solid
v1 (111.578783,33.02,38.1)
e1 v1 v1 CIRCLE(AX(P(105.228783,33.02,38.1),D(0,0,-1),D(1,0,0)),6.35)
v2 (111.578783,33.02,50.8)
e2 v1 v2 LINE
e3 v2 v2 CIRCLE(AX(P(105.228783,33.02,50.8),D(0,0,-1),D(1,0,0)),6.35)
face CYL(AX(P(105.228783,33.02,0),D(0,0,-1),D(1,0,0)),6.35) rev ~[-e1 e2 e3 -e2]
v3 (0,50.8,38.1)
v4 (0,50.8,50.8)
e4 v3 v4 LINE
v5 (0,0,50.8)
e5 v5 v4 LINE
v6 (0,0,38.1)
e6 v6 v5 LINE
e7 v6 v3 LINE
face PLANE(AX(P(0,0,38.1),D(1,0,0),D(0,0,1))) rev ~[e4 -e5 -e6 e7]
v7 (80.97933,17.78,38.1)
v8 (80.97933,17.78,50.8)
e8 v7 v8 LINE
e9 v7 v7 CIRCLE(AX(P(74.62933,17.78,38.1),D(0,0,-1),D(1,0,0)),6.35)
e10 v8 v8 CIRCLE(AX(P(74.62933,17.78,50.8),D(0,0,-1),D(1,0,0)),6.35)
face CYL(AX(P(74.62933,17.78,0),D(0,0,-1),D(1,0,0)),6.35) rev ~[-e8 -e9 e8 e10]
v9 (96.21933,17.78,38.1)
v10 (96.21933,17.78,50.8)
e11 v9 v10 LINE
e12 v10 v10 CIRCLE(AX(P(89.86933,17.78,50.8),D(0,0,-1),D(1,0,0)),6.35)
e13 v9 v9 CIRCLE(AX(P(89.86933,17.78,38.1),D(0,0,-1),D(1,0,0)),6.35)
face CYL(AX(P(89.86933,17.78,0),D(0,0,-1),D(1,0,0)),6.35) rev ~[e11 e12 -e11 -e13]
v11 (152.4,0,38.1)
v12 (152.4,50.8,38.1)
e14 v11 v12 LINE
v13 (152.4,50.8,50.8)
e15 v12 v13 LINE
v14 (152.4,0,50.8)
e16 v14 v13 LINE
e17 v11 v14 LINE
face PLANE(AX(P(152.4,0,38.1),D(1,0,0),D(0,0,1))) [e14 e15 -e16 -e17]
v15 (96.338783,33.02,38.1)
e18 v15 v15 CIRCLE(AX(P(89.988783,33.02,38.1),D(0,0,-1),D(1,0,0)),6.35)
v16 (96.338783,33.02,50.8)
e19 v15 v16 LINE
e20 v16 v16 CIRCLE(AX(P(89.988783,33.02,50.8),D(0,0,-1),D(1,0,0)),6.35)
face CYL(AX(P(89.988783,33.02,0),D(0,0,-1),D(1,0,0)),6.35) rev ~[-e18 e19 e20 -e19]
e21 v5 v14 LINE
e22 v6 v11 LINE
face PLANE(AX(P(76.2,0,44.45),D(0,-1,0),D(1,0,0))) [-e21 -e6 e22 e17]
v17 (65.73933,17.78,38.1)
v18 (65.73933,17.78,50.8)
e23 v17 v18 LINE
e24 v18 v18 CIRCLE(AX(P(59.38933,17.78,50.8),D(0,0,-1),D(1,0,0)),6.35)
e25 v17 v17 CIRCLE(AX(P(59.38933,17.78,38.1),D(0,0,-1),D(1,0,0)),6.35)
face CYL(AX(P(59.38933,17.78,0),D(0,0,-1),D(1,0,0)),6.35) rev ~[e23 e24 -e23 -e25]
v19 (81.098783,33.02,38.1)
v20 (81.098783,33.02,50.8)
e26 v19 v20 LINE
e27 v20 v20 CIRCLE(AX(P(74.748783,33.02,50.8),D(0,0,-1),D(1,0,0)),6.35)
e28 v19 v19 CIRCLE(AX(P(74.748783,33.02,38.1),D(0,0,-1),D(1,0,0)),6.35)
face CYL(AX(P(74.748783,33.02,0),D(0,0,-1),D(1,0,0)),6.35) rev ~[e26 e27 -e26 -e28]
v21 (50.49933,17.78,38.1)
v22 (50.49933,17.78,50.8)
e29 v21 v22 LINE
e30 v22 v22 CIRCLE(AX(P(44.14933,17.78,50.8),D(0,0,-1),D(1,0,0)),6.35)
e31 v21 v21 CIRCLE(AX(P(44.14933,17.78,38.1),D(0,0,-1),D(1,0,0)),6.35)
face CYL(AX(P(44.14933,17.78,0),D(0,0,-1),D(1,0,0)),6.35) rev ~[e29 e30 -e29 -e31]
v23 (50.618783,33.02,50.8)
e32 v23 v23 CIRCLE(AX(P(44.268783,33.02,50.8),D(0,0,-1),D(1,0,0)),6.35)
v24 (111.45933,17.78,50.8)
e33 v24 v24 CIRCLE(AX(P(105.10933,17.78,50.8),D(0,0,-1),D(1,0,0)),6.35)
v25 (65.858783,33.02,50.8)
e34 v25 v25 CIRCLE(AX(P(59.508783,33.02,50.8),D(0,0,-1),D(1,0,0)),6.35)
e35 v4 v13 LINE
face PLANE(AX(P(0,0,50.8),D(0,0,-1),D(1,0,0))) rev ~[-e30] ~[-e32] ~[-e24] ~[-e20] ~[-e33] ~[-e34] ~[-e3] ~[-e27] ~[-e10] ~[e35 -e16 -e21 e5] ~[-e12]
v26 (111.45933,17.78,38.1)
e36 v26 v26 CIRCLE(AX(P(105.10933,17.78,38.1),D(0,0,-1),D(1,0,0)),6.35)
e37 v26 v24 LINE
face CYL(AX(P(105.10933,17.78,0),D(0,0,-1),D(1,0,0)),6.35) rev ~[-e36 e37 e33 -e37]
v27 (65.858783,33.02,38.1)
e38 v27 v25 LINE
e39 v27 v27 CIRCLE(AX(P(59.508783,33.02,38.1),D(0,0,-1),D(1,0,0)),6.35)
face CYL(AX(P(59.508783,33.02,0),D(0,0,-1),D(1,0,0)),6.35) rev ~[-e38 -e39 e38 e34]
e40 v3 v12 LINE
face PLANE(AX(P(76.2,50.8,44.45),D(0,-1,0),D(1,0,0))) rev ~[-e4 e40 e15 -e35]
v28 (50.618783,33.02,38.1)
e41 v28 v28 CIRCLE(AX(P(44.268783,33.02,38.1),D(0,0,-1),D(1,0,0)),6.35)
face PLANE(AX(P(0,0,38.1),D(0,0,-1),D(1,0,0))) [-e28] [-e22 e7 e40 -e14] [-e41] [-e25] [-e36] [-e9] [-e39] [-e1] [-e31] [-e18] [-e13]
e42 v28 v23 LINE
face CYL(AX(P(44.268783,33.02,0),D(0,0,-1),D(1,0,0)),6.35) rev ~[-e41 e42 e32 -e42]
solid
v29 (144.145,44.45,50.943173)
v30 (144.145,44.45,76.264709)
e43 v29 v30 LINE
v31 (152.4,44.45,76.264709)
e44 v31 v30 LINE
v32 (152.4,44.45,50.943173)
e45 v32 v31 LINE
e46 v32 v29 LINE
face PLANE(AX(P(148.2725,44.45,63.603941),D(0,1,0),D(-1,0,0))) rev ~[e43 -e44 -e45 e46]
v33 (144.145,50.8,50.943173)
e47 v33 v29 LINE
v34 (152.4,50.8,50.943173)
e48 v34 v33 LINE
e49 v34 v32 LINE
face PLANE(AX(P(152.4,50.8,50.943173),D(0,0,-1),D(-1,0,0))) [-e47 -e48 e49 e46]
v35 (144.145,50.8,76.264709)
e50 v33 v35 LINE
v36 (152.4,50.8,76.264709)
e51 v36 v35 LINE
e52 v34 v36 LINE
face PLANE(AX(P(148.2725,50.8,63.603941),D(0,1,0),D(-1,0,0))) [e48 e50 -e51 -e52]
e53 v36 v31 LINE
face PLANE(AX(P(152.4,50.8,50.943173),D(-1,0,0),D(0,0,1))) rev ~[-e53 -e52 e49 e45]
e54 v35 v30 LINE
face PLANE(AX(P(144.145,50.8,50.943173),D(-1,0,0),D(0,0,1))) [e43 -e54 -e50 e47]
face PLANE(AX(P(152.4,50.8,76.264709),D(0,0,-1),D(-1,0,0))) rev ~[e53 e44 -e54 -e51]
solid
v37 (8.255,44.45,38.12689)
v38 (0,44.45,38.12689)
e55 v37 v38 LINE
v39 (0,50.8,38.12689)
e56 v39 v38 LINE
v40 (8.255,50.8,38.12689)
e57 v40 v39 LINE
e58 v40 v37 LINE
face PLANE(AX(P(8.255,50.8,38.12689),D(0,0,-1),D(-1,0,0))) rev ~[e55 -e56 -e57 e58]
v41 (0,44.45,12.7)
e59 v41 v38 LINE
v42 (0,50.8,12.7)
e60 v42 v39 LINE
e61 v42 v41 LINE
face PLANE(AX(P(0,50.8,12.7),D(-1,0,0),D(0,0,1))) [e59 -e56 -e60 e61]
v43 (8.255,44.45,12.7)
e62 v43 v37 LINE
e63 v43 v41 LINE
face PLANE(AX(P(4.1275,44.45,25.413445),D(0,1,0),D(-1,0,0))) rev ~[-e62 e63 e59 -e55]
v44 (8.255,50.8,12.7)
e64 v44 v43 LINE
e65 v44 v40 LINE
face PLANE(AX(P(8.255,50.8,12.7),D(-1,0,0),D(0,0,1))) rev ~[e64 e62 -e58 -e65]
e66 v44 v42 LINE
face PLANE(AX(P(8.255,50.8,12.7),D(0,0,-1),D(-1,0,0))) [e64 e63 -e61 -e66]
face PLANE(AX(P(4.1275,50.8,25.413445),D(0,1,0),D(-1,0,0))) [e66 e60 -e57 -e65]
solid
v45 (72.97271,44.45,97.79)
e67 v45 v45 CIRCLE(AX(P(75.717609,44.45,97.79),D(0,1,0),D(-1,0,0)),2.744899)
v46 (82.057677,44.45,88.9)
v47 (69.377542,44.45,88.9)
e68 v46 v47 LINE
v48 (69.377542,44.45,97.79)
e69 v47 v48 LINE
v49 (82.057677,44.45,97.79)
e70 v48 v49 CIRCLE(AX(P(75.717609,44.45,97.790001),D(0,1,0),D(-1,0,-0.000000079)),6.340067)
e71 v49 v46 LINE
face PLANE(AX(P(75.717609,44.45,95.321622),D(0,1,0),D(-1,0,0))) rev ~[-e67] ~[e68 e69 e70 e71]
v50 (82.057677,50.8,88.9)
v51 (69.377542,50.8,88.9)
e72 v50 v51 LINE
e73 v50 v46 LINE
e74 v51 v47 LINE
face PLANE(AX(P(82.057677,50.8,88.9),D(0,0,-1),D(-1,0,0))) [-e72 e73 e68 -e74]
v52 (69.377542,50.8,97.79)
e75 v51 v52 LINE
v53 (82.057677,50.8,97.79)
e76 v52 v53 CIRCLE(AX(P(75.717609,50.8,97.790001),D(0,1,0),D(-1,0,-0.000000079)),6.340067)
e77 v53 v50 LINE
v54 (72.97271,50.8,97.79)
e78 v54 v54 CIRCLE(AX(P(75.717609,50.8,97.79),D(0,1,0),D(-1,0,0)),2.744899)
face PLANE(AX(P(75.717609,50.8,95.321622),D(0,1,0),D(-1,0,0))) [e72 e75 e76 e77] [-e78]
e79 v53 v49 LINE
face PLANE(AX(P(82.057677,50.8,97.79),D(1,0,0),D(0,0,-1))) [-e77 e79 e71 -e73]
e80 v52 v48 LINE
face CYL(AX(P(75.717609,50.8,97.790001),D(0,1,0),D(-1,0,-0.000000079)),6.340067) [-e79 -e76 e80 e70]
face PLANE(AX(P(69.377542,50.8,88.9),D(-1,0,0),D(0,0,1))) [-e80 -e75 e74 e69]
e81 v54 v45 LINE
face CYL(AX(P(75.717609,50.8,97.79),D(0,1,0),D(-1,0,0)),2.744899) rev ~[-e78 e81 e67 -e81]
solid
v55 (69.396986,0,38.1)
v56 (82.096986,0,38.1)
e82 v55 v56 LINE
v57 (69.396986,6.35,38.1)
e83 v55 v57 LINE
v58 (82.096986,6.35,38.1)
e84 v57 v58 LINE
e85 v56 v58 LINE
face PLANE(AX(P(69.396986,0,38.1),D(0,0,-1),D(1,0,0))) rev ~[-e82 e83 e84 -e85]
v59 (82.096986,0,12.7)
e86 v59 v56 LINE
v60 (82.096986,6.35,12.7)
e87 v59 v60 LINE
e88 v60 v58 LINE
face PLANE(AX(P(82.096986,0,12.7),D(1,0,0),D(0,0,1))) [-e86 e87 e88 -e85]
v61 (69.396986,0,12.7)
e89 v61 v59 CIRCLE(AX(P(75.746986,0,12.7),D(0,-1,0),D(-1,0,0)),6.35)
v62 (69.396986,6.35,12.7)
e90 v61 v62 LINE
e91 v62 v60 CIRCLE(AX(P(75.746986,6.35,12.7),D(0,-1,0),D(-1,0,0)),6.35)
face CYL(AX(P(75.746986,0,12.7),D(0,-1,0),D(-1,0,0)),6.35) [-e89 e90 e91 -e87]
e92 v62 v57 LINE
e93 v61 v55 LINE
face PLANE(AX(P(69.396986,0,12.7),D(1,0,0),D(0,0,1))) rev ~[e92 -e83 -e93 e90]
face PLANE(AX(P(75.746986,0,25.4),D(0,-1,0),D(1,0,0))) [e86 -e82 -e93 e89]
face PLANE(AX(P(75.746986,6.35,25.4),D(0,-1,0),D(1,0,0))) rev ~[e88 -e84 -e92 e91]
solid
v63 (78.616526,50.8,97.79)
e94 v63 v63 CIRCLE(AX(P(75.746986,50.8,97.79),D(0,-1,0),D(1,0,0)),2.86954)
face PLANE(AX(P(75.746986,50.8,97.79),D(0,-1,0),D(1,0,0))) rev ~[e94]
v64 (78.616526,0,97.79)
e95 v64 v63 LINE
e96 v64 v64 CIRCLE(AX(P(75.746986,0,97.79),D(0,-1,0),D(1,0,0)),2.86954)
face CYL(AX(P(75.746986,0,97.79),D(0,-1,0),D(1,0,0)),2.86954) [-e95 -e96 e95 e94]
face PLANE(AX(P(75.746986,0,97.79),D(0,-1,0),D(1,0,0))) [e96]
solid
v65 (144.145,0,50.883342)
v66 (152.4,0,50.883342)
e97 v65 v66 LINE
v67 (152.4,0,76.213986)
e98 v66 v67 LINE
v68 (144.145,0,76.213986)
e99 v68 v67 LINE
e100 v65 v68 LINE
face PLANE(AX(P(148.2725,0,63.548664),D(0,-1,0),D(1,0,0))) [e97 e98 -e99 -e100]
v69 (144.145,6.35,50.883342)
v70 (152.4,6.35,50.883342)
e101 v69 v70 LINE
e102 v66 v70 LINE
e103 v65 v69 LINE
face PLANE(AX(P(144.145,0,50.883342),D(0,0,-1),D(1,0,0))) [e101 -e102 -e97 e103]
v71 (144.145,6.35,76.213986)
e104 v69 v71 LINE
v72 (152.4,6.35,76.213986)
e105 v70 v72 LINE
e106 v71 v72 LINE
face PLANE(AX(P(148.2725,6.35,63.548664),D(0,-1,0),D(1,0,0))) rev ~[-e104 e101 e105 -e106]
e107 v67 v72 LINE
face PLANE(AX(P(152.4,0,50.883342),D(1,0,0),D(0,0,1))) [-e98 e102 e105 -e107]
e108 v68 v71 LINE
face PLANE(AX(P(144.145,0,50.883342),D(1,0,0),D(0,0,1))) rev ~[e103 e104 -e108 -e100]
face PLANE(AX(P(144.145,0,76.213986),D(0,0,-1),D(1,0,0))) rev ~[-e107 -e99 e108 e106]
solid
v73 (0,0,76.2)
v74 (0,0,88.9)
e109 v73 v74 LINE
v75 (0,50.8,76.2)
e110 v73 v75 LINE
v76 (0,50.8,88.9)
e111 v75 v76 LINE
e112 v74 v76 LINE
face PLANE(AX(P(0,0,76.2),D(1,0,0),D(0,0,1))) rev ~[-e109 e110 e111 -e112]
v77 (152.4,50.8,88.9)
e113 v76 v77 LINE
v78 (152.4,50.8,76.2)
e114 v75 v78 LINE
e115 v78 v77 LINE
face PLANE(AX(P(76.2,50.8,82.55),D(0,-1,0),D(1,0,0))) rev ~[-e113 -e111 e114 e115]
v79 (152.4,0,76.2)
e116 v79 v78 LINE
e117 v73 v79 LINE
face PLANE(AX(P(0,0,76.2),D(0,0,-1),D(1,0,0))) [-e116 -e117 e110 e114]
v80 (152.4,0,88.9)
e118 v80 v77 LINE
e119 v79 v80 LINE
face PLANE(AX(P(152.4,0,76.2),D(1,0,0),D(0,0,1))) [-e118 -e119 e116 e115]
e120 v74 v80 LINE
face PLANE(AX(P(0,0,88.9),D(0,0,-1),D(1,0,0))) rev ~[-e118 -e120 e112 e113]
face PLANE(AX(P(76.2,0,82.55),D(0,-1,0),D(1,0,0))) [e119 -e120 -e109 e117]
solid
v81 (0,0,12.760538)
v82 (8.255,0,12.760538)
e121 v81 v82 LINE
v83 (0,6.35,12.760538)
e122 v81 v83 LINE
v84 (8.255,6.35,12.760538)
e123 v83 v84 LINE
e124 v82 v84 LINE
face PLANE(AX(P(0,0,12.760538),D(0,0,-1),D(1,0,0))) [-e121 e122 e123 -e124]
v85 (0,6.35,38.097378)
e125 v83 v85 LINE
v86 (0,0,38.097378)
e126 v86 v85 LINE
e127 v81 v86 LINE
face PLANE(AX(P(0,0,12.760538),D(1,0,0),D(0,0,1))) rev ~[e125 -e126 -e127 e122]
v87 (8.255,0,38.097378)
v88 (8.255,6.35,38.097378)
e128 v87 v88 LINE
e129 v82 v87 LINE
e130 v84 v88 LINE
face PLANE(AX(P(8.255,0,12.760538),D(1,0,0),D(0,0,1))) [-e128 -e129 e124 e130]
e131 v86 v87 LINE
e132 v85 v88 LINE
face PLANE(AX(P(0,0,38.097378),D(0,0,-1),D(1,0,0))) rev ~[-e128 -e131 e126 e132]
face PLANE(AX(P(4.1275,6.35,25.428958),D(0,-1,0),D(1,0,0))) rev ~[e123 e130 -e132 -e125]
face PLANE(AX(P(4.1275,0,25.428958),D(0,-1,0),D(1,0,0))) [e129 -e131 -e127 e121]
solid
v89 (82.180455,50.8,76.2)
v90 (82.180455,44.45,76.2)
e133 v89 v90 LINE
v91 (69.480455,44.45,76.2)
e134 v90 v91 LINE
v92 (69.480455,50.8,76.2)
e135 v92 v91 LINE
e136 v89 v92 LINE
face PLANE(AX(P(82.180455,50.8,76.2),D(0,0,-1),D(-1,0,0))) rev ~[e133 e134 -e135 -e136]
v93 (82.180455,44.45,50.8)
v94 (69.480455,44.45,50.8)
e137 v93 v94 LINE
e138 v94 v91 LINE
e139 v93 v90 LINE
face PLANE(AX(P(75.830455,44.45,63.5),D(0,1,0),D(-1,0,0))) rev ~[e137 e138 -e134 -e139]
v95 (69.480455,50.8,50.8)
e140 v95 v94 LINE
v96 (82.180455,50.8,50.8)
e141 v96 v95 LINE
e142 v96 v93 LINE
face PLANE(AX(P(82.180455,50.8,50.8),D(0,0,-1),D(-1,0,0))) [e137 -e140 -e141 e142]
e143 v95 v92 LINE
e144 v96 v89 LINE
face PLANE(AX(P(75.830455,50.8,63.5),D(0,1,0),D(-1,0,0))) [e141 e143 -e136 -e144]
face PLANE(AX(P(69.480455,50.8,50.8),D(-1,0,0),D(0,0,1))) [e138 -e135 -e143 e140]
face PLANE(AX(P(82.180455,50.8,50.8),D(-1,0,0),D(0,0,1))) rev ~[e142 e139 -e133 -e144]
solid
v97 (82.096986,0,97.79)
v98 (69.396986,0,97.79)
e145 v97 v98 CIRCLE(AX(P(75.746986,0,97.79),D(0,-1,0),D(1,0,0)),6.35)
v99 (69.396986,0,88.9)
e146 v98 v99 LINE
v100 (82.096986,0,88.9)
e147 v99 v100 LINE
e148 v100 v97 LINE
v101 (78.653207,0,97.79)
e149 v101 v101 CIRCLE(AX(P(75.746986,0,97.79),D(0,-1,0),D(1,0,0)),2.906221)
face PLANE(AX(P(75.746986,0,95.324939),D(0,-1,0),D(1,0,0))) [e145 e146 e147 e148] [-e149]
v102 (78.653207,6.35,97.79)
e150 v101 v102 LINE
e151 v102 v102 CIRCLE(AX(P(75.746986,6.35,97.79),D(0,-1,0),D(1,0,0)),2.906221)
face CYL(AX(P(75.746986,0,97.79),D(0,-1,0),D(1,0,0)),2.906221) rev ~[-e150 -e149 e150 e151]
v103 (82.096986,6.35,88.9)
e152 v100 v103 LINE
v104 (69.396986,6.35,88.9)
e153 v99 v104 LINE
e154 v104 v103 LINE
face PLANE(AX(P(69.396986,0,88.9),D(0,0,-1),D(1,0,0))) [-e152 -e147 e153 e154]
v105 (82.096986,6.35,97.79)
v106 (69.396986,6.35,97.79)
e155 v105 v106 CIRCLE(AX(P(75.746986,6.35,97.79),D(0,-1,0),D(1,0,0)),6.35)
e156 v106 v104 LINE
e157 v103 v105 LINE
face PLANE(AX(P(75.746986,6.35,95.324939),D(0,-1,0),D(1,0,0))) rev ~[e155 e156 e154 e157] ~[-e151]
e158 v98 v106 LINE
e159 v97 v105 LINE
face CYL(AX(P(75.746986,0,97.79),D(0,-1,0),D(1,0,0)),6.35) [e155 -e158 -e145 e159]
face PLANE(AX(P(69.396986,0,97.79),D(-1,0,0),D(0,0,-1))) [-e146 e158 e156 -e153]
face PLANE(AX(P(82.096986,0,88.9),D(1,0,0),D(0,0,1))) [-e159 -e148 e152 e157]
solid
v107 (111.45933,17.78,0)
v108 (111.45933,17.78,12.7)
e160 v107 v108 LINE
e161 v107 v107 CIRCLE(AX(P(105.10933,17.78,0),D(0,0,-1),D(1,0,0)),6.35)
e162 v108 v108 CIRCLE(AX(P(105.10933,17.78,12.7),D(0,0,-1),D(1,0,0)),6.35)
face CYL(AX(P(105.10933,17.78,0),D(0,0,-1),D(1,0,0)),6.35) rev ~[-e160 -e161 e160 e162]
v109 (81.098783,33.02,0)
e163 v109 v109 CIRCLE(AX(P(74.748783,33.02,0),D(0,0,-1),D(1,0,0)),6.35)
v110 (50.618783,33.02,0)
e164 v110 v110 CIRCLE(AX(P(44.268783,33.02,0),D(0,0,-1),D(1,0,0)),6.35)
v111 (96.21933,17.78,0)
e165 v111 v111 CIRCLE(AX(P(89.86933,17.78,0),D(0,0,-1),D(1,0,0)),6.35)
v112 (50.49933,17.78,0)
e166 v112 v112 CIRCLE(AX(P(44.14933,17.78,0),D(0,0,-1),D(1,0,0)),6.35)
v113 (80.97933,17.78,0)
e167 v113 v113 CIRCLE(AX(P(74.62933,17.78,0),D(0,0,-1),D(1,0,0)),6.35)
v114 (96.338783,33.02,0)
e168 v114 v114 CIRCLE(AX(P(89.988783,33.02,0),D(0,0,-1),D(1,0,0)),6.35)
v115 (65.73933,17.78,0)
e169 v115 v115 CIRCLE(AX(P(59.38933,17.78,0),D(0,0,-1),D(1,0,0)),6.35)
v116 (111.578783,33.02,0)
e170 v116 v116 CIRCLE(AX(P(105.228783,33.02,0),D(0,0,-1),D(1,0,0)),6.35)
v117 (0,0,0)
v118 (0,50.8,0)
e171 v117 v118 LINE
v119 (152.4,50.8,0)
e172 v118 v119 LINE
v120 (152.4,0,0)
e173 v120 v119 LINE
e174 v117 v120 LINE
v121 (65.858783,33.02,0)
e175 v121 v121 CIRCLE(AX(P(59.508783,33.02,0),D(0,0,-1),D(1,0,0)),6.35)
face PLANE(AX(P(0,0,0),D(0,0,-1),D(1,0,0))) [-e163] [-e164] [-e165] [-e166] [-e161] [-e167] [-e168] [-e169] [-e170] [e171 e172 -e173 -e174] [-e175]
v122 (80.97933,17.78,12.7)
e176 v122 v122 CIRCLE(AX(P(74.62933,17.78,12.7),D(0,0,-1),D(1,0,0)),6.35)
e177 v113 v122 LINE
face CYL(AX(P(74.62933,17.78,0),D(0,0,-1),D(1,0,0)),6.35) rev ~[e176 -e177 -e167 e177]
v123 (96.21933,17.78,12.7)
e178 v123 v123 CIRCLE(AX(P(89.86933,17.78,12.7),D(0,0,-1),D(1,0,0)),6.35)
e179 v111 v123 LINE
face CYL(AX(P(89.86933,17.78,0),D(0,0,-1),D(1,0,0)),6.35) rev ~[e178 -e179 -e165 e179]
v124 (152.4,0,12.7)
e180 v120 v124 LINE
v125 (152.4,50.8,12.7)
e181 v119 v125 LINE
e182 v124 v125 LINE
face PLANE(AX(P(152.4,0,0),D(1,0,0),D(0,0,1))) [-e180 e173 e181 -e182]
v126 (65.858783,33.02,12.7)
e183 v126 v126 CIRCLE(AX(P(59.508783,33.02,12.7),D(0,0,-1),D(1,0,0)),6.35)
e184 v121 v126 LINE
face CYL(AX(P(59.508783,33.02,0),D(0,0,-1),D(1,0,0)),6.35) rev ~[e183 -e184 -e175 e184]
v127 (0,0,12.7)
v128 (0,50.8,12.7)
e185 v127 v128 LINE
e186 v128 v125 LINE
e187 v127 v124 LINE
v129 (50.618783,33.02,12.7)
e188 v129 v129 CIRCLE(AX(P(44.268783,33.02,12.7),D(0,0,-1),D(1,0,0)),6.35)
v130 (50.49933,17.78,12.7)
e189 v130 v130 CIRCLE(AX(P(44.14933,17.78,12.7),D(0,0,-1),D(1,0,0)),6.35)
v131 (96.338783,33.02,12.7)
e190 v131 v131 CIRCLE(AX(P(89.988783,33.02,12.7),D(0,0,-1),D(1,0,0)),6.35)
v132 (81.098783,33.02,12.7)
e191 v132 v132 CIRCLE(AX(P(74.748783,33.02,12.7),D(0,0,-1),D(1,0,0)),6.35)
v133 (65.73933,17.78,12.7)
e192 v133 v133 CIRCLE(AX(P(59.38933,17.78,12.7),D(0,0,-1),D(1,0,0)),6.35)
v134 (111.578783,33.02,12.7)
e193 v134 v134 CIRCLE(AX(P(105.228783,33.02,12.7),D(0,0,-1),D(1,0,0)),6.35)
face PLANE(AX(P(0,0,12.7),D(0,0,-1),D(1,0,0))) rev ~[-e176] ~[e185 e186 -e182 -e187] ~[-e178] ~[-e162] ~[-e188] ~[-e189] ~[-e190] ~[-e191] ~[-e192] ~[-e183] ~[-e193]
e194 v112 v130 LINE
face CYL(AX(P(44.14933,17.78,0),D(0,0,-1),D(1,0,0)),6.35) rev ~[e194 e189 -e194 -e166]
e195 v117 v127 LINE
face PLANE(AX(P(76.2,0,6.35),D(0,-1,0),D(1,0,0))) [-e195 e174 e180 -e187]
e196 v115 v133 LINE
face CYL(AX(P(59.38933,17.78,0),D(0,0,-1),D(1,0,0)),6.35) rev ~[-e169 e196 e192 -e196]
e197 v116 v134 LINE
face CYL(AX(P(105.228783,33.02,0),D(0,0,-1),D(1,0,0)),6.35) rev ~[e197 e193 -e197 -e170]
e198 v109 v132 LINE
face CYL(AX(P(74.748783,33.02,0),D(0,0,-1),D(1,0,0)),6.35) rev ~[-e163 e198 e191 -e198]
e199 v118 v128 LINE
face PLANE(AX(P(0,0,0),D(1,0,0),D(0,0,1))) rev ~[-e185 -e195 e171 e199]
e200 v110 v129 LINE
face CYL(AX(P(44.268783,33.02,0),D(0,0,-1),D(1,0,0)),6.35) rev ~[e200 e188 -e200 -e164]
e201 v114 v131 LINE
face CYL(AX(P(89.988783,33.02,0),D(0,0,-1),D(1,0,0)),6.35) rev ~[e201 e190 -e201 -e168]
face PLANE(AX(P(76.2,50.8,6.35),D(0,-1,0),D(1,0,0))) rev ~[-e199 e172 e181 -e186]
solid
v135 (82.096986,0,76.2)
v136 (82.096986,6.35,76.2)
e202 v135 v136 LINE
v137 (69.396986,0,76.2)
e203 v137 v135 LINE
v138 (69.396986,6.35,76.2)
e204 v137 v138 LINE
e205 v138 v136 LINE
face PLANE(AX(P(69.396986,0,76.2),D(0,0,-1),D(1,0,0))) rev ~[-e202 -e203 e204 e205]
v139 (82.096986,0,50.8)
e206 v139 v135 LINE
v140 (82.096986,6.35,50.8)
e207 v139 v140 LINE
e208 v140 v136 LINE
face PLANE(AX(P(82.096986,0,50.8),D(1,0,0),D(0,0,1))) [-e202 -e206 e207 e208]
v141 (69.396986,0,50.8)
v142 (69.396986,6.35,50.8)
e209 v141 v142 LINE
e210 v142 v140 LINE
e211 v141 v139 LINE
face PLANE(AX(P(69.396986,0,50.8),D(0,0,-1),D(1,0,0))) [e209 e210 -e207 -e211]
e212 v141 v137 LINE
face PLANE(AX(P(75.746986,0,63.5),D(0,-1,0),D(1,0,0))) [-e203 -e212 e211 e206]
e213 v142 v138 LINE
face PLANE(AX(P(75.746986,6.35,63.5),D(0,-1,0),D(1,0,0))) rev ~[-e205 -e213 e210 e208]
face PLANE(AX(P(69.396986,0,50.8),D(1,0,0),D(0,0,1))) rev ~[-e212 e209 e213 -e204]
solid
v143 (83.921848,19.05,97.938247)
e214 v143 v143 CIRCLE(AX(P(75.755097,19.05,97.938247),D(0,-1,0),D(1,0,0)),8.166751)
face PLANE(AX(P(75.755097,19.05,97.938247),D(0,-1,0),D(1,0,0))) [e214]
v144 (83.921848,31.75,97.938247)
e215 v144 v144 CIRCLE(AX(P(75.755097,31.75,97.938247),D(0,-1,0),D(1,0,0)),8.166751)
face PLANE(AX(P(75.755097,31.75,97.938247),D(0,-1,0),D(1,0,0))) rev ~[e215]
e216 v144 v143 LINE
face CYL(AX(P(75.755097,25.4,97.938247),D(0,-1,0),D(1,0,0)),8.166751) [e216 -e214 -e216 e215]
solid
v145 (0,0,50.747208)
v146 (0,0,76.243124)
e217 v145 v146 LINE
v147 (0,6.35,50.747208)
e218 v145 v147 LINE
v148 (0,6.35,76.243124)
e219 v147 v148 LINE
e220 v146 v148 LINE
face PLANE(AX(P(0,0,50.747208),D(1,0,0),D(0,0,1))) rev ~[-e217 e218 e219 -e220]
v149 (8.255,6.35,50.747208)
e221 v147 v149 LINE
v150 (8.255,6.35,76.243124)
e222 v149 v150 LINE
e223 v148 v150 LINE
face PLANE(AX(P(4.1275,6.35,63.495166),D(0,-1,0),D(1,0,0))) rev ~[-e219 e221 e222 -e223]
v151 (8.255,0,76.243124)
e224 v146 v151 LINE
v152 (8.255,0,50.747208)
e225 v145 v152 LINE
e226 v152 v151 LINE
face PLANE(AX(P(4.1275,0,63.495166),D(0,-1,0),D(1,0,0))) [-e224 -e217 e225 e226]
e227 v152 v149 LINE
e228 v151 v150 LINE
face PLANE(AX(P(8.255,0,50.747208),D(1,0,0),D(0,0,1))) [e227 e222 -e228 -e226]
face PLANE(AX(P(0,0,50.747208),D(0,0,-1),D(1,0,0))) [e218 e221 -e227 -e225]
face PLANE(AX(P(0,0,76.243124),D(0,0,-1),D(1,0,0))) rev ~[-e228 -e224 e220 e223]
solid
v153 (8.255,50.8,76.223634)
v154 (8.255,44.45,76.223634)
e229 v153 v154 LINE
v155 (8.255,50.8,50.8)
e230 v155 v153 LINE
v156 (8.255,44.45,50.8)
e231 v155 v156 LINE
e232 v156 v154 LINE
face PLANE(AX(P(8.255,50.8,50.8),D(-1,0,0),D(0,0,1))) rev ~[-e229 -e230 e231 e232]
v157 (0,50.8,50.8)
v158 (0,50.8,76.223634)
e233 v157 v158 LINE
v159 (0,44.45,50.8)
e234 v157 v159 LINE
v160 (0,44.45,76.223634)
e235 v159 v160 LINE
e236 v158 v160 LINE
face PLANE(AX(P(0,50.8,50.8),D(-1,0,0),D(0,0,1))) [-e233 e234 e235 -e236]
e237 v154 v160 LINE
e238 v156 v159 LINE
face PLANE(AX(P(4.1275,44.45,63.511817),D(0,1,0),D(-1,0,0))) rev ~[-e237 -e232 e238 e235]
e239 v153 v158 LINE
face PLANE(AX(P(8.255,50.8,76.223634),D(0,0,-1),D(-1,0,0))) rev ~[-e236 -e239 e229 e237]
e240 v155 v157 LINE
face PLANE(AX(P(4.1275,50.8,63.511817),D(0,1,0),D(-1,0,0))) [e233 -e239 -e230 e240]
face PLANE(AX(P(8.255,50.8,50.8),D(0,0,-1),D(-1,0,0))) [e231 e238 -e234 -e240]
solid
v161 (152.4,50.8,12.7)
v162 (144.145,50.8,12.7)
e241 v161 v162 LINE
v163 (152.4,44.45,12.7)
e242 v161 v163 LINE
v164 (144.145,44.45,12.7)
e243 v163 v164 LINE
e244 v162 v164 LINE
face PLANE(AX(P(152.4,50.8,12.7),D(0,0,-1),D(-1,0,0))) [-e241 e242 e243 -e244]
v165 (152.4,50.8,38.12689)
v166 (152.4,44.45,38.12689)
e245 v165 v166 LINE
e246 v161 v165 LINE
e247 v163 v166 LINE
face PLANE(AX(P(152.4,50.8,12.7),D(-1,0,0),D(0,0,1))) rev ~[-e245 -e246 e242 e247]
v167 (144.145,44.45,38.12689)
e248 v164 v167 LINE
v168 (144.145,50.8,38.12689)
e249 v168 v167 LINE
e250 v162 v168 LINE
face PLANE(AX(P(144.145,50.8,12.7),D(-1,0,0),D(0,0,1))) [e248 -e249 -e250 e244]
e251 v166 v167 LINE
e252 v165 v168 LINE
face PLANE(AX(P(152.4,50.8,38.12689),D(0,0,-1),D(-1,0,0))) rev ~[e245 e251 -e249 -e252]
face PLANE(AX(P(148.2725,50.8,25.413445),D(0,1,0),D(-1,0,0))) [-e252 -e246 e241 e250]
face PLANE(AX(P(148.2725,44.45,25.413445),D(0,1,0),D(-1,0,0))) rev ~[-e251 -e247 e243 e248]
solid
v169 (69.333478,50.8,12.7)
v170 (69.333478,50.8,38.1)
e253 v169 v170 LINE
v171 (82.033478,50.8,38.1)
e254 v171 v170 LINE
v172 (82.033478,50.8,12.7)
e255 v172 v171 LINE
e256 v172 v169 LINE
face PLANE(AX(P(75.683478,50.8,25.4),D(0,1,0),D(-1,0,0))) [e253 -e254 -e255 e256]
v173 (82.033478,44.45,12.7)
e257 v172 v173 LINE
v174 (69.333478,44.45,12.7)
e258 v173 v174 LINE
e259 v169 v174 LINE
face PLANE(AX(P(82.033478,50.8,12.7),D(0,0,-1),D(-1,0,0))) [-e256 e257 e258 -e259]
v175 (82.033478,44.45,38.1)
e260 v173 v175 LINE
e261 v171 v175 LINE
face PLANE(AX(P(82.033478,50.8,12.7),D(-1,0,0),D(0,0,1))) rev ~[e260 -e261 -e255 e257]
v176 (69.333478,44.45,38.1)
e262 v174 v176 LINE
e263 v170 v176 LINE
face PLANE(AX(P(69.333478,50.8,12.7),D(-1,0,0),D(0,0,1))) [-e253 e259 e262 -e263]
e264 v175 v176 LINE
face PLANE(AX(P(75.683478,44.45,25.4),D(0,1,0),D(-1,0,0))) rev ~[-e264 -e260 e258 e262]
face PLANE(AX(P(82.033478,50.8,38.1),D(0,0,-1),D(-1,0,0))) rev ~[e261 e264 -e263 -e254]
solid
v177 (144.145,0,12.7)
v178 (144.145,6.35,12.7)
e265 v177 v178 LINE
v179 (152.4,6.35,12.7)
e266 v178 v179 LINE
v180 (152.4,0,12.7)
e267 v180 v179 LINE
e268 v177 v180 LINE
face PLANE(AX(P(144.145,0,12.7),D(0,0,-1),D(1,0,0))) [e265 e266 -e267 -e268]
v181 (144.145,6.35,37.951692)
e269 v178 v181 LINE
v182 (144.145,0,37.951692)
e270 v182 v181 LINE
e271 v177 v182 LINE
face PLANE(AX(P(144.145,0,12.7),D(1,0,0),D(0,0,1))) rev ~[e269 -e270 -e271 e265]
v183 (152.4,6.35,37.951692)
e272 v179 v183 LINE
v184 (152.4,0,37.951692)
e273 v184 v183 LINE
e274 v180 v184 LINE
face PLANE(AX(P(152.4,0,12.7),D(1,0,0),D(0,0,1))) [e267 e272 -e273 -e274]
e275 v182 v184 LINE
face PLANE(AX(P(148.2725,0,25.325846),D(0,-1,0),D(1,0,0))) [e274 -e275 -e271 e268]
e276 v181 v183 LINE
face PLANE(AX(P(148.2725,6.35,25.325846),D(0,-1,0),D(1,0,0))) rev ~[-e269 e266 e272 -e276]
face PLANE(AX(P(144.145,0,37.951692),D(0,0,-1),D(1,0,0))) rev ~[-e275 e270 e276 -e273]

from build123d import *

# Parameters (mm, degrees)
F0_W           = 152.4
F0_H           = 12.7
F1_DEPTH       = 50.8
F3_W           = 8.255
F3_H           = 25.330644
F3_H_2         = 25.251692
F2_W           = 8.255
F2_H           = 25.33684
F2_H_2         = 25.495917
F4_DEPTH       = 6.35
F5_W           = 8.255
F5_H           = 25.321536
F5_H_2         = 25.42689
F6_W           = 8.255
F6_H           = 25.423634
F7_DEPTH       = 6.35
F9_R           = 2.906221
F9_W           = 12.7
F9_H           = 25.4
F10_DEPTH      = 6.35
F11_W          = 12.7
F11_H          = 25.4
F12_W          = 12.7
F12_H          = 25.4
F13_R          = 2.744899
F14_DEPTH      = 6.35
F15_R          = 2.86954
F16_DEPTH      = 50.8
F18_R          = 8.166751
F19_DEPTH      = 6.35
F19_DEPTH_BACK = 6.35
F20_R          = 6.35
F21_DEPTH      = 52.832


with BuildPart() as f1:
    # F0 (on Front) → F1 (new body)
    with BuildSketch(Plane.XZ):
        with Locations((76.2, 82.55)):
            Rectangle(F0_W, F0_H)
        with Locations((76.2, 44.45)):
            Rectangle(F0_W, F0_H)
        with Locations((76.2, 6.35)):
            Rectangle(F0_W, F0_H)
    extrude(amount=-F1_DEPTH)

    # F20 (on face) → F21 (cut)
    with BuildSketch(Plane(origin=(0, 0, 0), x_dir=(1, 0, 0), z_dir=(0, 0, -1))):
        with Locations((59.38933, -17.78)):
            Circle(F20_R)
        with Locations((74.62933, -17.78)):
            Circle(F20_R)
        with Locations((89.86933, -17.78)):
            Circle(F20_R)
        with Locations((44.14933, -17.78)):
            Circle(F20_R)
        with Locations((44.268783, -33.02)):
            Circle(F20_R)
        with Locations((105.10933, -17.78)):
            Circle(F20_R)
        with Locations((74.748783, -33.02)):
            Circle(F20_R)
        with Locations((89.988783, -33.02)):
            Circle(F20_R)
        with Locations((105.228783, -33.02)):
            Circle(F20_R)
        with Locations((59.508783, -33.02)):
            Circle(F20_R)
    extrude(amount=-F21_DEPTH, mode=Mode.SUBTRACT)


with BuildPart() as f4:
    # F3 (on face) + F2 (on Front) → F4 (new body)
    with BuildSketch(Plane.XZ):
        with Locations((148.2725, 63.548664)):
            Rectangle(F3_W, F3_H)
        with Locations((148.2725, 25.325846)):
            Rectangle(F3_W, F3_H_2)
    with BuildSketch(Plane.XZ):
        with Locations((4.1275, 25.428958)):
            Rectangle(F2_W, F2_H)
        with Locations((4.1275, 63.495166)):
            Rectangle(F2_W, F2_H_2)
    extrude(amount=-F4_DEPTH)


with BuildPart() as f7:
    # F5 (on face) + F6 (on face) → F7 (new body)
    with BuildSketch(Plane(origin=(0, 50.8, 0), x_dir=(-1, 0, 0), z_dir=(0, 1, 0))):
        with Locations((-148.2725, 63.603941)):
            Rectangle(F5_W, F5_H)
        with Locations((-148.2725, 25.413445)):
            Rectangle(F5_W, F5_H_2)
        with Locations((-4.1275, 25.413445)):
            Rectangle(F5_W, F5_H_2)
    with BuildSketch(Plane(origin=(0, 50.8, 0), x_dir=(-1, 0, 0), z_dir=(0, 1, 0))):
        with Locations((-4.1275, 63.511817)):
            Rectangle(F6_W, F6_H)
    extrude(amount=-F7_DEPTH)


with BuildPart() as f10:
    # F9 (on face) → F10 (new body)
    with BuildSketch(Plane.XZ):
        with BuildLine():
            Line((69.396986, 97.79), (69.396986, 88.9))
            Line((69.396986, 88.9), (82.096986, 88.9))
            Line((82.096986, 88.9), (82.096986, 97.79))
            ThreePointArc((82.096986, 97.79), (75.746986, 104.14), (69.396986, 97.79))
        make_face()
        with Locations((75.746986, 97.79)):
            Circle(F9_R, mode=Mode.SUBTRACT)
        with Locations((75.746986, 63.5)):
            Rectangle(F9_W, F9_H)
        with Locations((75.746986, 25.4)):
            Rectangle(F9_W, F9_H)
        with BuildLine():
            Line((82.096986, 12.7), (69.396986, 12.7))
            ThreePointArc((69.396986, 12.7), (75.746986, 6.35), (82.096986, 12.7))
        make_face()
    extrude(amount=-F10_DEPTH)


with BuildPart() as f14:
    # F11 (on face) + F12 (on face) + F13 (on face) → F14 (new body)
    with BuildSketch(Plane(origin=(0, 50.8, 0), x_dir=(-1, 0, 0), z_dir=(0, 1, 0))):
        with Locations((-75.683478, 25.4)):
            Rectangle(F11_W, F11_H)
    with BuildSketch(Plane(origin=(0, 50.8, 0), x_dir=(-1, 0, 0), z_dir=(0, 1, 0))):
        with Locations((-75.830455, 63.5)):
            Rectangle(F12_W, F12_H)
    with BuildSketch(Plane(origin=(0, 50.8, 0), x_dir=(-1, 0, 0), z_dir=(0, 1, 0))):
        with BuildLine():
            Line((-82.057677, 97.79), (-82.057677, 88.9))
            Line((-82.057677, 88.9), (-69.377542, 88.9))
            Line((-69.377542, 88.9), (-69.377542, 97.79))
            ThreePointArc((-69.377542, 97.79), (-75.717609, 104.130068), (-82.057677, 97.79))
        make_face()
        with Locations((-75.717609, 97.79)):
            Circle(F13_R, mode=Mode.SUBTRACT)
    extrude(amount=-F14_DEPTH)


with BuildPart() as f16:
    # F15 (on face) → F16 (new body)
    with BuildSketch(Plane.XZ):
        with Locations((75.746986, 97.79)):
            Circle(F15_R)
    extrude(amount=-F16_DEPTH)


with BuildPart() as f19:
    # F18 (on offset) → F19 (new body, two sides)
    with BuildSketch(Plane.XZ.offset(-25.4)) as f19_sk:
        with Locations((75.755097, 97.938247)):
            Circle(F18_R)
    extrude(amount=F19_DEPTH)
    extrude(f19_sk.sketch, amount=-F19_DEPTH_BACK)


solid = Compound([f1.part, f4.part, f7.part, f10.part, f14.part, f16.part, f19.part])
